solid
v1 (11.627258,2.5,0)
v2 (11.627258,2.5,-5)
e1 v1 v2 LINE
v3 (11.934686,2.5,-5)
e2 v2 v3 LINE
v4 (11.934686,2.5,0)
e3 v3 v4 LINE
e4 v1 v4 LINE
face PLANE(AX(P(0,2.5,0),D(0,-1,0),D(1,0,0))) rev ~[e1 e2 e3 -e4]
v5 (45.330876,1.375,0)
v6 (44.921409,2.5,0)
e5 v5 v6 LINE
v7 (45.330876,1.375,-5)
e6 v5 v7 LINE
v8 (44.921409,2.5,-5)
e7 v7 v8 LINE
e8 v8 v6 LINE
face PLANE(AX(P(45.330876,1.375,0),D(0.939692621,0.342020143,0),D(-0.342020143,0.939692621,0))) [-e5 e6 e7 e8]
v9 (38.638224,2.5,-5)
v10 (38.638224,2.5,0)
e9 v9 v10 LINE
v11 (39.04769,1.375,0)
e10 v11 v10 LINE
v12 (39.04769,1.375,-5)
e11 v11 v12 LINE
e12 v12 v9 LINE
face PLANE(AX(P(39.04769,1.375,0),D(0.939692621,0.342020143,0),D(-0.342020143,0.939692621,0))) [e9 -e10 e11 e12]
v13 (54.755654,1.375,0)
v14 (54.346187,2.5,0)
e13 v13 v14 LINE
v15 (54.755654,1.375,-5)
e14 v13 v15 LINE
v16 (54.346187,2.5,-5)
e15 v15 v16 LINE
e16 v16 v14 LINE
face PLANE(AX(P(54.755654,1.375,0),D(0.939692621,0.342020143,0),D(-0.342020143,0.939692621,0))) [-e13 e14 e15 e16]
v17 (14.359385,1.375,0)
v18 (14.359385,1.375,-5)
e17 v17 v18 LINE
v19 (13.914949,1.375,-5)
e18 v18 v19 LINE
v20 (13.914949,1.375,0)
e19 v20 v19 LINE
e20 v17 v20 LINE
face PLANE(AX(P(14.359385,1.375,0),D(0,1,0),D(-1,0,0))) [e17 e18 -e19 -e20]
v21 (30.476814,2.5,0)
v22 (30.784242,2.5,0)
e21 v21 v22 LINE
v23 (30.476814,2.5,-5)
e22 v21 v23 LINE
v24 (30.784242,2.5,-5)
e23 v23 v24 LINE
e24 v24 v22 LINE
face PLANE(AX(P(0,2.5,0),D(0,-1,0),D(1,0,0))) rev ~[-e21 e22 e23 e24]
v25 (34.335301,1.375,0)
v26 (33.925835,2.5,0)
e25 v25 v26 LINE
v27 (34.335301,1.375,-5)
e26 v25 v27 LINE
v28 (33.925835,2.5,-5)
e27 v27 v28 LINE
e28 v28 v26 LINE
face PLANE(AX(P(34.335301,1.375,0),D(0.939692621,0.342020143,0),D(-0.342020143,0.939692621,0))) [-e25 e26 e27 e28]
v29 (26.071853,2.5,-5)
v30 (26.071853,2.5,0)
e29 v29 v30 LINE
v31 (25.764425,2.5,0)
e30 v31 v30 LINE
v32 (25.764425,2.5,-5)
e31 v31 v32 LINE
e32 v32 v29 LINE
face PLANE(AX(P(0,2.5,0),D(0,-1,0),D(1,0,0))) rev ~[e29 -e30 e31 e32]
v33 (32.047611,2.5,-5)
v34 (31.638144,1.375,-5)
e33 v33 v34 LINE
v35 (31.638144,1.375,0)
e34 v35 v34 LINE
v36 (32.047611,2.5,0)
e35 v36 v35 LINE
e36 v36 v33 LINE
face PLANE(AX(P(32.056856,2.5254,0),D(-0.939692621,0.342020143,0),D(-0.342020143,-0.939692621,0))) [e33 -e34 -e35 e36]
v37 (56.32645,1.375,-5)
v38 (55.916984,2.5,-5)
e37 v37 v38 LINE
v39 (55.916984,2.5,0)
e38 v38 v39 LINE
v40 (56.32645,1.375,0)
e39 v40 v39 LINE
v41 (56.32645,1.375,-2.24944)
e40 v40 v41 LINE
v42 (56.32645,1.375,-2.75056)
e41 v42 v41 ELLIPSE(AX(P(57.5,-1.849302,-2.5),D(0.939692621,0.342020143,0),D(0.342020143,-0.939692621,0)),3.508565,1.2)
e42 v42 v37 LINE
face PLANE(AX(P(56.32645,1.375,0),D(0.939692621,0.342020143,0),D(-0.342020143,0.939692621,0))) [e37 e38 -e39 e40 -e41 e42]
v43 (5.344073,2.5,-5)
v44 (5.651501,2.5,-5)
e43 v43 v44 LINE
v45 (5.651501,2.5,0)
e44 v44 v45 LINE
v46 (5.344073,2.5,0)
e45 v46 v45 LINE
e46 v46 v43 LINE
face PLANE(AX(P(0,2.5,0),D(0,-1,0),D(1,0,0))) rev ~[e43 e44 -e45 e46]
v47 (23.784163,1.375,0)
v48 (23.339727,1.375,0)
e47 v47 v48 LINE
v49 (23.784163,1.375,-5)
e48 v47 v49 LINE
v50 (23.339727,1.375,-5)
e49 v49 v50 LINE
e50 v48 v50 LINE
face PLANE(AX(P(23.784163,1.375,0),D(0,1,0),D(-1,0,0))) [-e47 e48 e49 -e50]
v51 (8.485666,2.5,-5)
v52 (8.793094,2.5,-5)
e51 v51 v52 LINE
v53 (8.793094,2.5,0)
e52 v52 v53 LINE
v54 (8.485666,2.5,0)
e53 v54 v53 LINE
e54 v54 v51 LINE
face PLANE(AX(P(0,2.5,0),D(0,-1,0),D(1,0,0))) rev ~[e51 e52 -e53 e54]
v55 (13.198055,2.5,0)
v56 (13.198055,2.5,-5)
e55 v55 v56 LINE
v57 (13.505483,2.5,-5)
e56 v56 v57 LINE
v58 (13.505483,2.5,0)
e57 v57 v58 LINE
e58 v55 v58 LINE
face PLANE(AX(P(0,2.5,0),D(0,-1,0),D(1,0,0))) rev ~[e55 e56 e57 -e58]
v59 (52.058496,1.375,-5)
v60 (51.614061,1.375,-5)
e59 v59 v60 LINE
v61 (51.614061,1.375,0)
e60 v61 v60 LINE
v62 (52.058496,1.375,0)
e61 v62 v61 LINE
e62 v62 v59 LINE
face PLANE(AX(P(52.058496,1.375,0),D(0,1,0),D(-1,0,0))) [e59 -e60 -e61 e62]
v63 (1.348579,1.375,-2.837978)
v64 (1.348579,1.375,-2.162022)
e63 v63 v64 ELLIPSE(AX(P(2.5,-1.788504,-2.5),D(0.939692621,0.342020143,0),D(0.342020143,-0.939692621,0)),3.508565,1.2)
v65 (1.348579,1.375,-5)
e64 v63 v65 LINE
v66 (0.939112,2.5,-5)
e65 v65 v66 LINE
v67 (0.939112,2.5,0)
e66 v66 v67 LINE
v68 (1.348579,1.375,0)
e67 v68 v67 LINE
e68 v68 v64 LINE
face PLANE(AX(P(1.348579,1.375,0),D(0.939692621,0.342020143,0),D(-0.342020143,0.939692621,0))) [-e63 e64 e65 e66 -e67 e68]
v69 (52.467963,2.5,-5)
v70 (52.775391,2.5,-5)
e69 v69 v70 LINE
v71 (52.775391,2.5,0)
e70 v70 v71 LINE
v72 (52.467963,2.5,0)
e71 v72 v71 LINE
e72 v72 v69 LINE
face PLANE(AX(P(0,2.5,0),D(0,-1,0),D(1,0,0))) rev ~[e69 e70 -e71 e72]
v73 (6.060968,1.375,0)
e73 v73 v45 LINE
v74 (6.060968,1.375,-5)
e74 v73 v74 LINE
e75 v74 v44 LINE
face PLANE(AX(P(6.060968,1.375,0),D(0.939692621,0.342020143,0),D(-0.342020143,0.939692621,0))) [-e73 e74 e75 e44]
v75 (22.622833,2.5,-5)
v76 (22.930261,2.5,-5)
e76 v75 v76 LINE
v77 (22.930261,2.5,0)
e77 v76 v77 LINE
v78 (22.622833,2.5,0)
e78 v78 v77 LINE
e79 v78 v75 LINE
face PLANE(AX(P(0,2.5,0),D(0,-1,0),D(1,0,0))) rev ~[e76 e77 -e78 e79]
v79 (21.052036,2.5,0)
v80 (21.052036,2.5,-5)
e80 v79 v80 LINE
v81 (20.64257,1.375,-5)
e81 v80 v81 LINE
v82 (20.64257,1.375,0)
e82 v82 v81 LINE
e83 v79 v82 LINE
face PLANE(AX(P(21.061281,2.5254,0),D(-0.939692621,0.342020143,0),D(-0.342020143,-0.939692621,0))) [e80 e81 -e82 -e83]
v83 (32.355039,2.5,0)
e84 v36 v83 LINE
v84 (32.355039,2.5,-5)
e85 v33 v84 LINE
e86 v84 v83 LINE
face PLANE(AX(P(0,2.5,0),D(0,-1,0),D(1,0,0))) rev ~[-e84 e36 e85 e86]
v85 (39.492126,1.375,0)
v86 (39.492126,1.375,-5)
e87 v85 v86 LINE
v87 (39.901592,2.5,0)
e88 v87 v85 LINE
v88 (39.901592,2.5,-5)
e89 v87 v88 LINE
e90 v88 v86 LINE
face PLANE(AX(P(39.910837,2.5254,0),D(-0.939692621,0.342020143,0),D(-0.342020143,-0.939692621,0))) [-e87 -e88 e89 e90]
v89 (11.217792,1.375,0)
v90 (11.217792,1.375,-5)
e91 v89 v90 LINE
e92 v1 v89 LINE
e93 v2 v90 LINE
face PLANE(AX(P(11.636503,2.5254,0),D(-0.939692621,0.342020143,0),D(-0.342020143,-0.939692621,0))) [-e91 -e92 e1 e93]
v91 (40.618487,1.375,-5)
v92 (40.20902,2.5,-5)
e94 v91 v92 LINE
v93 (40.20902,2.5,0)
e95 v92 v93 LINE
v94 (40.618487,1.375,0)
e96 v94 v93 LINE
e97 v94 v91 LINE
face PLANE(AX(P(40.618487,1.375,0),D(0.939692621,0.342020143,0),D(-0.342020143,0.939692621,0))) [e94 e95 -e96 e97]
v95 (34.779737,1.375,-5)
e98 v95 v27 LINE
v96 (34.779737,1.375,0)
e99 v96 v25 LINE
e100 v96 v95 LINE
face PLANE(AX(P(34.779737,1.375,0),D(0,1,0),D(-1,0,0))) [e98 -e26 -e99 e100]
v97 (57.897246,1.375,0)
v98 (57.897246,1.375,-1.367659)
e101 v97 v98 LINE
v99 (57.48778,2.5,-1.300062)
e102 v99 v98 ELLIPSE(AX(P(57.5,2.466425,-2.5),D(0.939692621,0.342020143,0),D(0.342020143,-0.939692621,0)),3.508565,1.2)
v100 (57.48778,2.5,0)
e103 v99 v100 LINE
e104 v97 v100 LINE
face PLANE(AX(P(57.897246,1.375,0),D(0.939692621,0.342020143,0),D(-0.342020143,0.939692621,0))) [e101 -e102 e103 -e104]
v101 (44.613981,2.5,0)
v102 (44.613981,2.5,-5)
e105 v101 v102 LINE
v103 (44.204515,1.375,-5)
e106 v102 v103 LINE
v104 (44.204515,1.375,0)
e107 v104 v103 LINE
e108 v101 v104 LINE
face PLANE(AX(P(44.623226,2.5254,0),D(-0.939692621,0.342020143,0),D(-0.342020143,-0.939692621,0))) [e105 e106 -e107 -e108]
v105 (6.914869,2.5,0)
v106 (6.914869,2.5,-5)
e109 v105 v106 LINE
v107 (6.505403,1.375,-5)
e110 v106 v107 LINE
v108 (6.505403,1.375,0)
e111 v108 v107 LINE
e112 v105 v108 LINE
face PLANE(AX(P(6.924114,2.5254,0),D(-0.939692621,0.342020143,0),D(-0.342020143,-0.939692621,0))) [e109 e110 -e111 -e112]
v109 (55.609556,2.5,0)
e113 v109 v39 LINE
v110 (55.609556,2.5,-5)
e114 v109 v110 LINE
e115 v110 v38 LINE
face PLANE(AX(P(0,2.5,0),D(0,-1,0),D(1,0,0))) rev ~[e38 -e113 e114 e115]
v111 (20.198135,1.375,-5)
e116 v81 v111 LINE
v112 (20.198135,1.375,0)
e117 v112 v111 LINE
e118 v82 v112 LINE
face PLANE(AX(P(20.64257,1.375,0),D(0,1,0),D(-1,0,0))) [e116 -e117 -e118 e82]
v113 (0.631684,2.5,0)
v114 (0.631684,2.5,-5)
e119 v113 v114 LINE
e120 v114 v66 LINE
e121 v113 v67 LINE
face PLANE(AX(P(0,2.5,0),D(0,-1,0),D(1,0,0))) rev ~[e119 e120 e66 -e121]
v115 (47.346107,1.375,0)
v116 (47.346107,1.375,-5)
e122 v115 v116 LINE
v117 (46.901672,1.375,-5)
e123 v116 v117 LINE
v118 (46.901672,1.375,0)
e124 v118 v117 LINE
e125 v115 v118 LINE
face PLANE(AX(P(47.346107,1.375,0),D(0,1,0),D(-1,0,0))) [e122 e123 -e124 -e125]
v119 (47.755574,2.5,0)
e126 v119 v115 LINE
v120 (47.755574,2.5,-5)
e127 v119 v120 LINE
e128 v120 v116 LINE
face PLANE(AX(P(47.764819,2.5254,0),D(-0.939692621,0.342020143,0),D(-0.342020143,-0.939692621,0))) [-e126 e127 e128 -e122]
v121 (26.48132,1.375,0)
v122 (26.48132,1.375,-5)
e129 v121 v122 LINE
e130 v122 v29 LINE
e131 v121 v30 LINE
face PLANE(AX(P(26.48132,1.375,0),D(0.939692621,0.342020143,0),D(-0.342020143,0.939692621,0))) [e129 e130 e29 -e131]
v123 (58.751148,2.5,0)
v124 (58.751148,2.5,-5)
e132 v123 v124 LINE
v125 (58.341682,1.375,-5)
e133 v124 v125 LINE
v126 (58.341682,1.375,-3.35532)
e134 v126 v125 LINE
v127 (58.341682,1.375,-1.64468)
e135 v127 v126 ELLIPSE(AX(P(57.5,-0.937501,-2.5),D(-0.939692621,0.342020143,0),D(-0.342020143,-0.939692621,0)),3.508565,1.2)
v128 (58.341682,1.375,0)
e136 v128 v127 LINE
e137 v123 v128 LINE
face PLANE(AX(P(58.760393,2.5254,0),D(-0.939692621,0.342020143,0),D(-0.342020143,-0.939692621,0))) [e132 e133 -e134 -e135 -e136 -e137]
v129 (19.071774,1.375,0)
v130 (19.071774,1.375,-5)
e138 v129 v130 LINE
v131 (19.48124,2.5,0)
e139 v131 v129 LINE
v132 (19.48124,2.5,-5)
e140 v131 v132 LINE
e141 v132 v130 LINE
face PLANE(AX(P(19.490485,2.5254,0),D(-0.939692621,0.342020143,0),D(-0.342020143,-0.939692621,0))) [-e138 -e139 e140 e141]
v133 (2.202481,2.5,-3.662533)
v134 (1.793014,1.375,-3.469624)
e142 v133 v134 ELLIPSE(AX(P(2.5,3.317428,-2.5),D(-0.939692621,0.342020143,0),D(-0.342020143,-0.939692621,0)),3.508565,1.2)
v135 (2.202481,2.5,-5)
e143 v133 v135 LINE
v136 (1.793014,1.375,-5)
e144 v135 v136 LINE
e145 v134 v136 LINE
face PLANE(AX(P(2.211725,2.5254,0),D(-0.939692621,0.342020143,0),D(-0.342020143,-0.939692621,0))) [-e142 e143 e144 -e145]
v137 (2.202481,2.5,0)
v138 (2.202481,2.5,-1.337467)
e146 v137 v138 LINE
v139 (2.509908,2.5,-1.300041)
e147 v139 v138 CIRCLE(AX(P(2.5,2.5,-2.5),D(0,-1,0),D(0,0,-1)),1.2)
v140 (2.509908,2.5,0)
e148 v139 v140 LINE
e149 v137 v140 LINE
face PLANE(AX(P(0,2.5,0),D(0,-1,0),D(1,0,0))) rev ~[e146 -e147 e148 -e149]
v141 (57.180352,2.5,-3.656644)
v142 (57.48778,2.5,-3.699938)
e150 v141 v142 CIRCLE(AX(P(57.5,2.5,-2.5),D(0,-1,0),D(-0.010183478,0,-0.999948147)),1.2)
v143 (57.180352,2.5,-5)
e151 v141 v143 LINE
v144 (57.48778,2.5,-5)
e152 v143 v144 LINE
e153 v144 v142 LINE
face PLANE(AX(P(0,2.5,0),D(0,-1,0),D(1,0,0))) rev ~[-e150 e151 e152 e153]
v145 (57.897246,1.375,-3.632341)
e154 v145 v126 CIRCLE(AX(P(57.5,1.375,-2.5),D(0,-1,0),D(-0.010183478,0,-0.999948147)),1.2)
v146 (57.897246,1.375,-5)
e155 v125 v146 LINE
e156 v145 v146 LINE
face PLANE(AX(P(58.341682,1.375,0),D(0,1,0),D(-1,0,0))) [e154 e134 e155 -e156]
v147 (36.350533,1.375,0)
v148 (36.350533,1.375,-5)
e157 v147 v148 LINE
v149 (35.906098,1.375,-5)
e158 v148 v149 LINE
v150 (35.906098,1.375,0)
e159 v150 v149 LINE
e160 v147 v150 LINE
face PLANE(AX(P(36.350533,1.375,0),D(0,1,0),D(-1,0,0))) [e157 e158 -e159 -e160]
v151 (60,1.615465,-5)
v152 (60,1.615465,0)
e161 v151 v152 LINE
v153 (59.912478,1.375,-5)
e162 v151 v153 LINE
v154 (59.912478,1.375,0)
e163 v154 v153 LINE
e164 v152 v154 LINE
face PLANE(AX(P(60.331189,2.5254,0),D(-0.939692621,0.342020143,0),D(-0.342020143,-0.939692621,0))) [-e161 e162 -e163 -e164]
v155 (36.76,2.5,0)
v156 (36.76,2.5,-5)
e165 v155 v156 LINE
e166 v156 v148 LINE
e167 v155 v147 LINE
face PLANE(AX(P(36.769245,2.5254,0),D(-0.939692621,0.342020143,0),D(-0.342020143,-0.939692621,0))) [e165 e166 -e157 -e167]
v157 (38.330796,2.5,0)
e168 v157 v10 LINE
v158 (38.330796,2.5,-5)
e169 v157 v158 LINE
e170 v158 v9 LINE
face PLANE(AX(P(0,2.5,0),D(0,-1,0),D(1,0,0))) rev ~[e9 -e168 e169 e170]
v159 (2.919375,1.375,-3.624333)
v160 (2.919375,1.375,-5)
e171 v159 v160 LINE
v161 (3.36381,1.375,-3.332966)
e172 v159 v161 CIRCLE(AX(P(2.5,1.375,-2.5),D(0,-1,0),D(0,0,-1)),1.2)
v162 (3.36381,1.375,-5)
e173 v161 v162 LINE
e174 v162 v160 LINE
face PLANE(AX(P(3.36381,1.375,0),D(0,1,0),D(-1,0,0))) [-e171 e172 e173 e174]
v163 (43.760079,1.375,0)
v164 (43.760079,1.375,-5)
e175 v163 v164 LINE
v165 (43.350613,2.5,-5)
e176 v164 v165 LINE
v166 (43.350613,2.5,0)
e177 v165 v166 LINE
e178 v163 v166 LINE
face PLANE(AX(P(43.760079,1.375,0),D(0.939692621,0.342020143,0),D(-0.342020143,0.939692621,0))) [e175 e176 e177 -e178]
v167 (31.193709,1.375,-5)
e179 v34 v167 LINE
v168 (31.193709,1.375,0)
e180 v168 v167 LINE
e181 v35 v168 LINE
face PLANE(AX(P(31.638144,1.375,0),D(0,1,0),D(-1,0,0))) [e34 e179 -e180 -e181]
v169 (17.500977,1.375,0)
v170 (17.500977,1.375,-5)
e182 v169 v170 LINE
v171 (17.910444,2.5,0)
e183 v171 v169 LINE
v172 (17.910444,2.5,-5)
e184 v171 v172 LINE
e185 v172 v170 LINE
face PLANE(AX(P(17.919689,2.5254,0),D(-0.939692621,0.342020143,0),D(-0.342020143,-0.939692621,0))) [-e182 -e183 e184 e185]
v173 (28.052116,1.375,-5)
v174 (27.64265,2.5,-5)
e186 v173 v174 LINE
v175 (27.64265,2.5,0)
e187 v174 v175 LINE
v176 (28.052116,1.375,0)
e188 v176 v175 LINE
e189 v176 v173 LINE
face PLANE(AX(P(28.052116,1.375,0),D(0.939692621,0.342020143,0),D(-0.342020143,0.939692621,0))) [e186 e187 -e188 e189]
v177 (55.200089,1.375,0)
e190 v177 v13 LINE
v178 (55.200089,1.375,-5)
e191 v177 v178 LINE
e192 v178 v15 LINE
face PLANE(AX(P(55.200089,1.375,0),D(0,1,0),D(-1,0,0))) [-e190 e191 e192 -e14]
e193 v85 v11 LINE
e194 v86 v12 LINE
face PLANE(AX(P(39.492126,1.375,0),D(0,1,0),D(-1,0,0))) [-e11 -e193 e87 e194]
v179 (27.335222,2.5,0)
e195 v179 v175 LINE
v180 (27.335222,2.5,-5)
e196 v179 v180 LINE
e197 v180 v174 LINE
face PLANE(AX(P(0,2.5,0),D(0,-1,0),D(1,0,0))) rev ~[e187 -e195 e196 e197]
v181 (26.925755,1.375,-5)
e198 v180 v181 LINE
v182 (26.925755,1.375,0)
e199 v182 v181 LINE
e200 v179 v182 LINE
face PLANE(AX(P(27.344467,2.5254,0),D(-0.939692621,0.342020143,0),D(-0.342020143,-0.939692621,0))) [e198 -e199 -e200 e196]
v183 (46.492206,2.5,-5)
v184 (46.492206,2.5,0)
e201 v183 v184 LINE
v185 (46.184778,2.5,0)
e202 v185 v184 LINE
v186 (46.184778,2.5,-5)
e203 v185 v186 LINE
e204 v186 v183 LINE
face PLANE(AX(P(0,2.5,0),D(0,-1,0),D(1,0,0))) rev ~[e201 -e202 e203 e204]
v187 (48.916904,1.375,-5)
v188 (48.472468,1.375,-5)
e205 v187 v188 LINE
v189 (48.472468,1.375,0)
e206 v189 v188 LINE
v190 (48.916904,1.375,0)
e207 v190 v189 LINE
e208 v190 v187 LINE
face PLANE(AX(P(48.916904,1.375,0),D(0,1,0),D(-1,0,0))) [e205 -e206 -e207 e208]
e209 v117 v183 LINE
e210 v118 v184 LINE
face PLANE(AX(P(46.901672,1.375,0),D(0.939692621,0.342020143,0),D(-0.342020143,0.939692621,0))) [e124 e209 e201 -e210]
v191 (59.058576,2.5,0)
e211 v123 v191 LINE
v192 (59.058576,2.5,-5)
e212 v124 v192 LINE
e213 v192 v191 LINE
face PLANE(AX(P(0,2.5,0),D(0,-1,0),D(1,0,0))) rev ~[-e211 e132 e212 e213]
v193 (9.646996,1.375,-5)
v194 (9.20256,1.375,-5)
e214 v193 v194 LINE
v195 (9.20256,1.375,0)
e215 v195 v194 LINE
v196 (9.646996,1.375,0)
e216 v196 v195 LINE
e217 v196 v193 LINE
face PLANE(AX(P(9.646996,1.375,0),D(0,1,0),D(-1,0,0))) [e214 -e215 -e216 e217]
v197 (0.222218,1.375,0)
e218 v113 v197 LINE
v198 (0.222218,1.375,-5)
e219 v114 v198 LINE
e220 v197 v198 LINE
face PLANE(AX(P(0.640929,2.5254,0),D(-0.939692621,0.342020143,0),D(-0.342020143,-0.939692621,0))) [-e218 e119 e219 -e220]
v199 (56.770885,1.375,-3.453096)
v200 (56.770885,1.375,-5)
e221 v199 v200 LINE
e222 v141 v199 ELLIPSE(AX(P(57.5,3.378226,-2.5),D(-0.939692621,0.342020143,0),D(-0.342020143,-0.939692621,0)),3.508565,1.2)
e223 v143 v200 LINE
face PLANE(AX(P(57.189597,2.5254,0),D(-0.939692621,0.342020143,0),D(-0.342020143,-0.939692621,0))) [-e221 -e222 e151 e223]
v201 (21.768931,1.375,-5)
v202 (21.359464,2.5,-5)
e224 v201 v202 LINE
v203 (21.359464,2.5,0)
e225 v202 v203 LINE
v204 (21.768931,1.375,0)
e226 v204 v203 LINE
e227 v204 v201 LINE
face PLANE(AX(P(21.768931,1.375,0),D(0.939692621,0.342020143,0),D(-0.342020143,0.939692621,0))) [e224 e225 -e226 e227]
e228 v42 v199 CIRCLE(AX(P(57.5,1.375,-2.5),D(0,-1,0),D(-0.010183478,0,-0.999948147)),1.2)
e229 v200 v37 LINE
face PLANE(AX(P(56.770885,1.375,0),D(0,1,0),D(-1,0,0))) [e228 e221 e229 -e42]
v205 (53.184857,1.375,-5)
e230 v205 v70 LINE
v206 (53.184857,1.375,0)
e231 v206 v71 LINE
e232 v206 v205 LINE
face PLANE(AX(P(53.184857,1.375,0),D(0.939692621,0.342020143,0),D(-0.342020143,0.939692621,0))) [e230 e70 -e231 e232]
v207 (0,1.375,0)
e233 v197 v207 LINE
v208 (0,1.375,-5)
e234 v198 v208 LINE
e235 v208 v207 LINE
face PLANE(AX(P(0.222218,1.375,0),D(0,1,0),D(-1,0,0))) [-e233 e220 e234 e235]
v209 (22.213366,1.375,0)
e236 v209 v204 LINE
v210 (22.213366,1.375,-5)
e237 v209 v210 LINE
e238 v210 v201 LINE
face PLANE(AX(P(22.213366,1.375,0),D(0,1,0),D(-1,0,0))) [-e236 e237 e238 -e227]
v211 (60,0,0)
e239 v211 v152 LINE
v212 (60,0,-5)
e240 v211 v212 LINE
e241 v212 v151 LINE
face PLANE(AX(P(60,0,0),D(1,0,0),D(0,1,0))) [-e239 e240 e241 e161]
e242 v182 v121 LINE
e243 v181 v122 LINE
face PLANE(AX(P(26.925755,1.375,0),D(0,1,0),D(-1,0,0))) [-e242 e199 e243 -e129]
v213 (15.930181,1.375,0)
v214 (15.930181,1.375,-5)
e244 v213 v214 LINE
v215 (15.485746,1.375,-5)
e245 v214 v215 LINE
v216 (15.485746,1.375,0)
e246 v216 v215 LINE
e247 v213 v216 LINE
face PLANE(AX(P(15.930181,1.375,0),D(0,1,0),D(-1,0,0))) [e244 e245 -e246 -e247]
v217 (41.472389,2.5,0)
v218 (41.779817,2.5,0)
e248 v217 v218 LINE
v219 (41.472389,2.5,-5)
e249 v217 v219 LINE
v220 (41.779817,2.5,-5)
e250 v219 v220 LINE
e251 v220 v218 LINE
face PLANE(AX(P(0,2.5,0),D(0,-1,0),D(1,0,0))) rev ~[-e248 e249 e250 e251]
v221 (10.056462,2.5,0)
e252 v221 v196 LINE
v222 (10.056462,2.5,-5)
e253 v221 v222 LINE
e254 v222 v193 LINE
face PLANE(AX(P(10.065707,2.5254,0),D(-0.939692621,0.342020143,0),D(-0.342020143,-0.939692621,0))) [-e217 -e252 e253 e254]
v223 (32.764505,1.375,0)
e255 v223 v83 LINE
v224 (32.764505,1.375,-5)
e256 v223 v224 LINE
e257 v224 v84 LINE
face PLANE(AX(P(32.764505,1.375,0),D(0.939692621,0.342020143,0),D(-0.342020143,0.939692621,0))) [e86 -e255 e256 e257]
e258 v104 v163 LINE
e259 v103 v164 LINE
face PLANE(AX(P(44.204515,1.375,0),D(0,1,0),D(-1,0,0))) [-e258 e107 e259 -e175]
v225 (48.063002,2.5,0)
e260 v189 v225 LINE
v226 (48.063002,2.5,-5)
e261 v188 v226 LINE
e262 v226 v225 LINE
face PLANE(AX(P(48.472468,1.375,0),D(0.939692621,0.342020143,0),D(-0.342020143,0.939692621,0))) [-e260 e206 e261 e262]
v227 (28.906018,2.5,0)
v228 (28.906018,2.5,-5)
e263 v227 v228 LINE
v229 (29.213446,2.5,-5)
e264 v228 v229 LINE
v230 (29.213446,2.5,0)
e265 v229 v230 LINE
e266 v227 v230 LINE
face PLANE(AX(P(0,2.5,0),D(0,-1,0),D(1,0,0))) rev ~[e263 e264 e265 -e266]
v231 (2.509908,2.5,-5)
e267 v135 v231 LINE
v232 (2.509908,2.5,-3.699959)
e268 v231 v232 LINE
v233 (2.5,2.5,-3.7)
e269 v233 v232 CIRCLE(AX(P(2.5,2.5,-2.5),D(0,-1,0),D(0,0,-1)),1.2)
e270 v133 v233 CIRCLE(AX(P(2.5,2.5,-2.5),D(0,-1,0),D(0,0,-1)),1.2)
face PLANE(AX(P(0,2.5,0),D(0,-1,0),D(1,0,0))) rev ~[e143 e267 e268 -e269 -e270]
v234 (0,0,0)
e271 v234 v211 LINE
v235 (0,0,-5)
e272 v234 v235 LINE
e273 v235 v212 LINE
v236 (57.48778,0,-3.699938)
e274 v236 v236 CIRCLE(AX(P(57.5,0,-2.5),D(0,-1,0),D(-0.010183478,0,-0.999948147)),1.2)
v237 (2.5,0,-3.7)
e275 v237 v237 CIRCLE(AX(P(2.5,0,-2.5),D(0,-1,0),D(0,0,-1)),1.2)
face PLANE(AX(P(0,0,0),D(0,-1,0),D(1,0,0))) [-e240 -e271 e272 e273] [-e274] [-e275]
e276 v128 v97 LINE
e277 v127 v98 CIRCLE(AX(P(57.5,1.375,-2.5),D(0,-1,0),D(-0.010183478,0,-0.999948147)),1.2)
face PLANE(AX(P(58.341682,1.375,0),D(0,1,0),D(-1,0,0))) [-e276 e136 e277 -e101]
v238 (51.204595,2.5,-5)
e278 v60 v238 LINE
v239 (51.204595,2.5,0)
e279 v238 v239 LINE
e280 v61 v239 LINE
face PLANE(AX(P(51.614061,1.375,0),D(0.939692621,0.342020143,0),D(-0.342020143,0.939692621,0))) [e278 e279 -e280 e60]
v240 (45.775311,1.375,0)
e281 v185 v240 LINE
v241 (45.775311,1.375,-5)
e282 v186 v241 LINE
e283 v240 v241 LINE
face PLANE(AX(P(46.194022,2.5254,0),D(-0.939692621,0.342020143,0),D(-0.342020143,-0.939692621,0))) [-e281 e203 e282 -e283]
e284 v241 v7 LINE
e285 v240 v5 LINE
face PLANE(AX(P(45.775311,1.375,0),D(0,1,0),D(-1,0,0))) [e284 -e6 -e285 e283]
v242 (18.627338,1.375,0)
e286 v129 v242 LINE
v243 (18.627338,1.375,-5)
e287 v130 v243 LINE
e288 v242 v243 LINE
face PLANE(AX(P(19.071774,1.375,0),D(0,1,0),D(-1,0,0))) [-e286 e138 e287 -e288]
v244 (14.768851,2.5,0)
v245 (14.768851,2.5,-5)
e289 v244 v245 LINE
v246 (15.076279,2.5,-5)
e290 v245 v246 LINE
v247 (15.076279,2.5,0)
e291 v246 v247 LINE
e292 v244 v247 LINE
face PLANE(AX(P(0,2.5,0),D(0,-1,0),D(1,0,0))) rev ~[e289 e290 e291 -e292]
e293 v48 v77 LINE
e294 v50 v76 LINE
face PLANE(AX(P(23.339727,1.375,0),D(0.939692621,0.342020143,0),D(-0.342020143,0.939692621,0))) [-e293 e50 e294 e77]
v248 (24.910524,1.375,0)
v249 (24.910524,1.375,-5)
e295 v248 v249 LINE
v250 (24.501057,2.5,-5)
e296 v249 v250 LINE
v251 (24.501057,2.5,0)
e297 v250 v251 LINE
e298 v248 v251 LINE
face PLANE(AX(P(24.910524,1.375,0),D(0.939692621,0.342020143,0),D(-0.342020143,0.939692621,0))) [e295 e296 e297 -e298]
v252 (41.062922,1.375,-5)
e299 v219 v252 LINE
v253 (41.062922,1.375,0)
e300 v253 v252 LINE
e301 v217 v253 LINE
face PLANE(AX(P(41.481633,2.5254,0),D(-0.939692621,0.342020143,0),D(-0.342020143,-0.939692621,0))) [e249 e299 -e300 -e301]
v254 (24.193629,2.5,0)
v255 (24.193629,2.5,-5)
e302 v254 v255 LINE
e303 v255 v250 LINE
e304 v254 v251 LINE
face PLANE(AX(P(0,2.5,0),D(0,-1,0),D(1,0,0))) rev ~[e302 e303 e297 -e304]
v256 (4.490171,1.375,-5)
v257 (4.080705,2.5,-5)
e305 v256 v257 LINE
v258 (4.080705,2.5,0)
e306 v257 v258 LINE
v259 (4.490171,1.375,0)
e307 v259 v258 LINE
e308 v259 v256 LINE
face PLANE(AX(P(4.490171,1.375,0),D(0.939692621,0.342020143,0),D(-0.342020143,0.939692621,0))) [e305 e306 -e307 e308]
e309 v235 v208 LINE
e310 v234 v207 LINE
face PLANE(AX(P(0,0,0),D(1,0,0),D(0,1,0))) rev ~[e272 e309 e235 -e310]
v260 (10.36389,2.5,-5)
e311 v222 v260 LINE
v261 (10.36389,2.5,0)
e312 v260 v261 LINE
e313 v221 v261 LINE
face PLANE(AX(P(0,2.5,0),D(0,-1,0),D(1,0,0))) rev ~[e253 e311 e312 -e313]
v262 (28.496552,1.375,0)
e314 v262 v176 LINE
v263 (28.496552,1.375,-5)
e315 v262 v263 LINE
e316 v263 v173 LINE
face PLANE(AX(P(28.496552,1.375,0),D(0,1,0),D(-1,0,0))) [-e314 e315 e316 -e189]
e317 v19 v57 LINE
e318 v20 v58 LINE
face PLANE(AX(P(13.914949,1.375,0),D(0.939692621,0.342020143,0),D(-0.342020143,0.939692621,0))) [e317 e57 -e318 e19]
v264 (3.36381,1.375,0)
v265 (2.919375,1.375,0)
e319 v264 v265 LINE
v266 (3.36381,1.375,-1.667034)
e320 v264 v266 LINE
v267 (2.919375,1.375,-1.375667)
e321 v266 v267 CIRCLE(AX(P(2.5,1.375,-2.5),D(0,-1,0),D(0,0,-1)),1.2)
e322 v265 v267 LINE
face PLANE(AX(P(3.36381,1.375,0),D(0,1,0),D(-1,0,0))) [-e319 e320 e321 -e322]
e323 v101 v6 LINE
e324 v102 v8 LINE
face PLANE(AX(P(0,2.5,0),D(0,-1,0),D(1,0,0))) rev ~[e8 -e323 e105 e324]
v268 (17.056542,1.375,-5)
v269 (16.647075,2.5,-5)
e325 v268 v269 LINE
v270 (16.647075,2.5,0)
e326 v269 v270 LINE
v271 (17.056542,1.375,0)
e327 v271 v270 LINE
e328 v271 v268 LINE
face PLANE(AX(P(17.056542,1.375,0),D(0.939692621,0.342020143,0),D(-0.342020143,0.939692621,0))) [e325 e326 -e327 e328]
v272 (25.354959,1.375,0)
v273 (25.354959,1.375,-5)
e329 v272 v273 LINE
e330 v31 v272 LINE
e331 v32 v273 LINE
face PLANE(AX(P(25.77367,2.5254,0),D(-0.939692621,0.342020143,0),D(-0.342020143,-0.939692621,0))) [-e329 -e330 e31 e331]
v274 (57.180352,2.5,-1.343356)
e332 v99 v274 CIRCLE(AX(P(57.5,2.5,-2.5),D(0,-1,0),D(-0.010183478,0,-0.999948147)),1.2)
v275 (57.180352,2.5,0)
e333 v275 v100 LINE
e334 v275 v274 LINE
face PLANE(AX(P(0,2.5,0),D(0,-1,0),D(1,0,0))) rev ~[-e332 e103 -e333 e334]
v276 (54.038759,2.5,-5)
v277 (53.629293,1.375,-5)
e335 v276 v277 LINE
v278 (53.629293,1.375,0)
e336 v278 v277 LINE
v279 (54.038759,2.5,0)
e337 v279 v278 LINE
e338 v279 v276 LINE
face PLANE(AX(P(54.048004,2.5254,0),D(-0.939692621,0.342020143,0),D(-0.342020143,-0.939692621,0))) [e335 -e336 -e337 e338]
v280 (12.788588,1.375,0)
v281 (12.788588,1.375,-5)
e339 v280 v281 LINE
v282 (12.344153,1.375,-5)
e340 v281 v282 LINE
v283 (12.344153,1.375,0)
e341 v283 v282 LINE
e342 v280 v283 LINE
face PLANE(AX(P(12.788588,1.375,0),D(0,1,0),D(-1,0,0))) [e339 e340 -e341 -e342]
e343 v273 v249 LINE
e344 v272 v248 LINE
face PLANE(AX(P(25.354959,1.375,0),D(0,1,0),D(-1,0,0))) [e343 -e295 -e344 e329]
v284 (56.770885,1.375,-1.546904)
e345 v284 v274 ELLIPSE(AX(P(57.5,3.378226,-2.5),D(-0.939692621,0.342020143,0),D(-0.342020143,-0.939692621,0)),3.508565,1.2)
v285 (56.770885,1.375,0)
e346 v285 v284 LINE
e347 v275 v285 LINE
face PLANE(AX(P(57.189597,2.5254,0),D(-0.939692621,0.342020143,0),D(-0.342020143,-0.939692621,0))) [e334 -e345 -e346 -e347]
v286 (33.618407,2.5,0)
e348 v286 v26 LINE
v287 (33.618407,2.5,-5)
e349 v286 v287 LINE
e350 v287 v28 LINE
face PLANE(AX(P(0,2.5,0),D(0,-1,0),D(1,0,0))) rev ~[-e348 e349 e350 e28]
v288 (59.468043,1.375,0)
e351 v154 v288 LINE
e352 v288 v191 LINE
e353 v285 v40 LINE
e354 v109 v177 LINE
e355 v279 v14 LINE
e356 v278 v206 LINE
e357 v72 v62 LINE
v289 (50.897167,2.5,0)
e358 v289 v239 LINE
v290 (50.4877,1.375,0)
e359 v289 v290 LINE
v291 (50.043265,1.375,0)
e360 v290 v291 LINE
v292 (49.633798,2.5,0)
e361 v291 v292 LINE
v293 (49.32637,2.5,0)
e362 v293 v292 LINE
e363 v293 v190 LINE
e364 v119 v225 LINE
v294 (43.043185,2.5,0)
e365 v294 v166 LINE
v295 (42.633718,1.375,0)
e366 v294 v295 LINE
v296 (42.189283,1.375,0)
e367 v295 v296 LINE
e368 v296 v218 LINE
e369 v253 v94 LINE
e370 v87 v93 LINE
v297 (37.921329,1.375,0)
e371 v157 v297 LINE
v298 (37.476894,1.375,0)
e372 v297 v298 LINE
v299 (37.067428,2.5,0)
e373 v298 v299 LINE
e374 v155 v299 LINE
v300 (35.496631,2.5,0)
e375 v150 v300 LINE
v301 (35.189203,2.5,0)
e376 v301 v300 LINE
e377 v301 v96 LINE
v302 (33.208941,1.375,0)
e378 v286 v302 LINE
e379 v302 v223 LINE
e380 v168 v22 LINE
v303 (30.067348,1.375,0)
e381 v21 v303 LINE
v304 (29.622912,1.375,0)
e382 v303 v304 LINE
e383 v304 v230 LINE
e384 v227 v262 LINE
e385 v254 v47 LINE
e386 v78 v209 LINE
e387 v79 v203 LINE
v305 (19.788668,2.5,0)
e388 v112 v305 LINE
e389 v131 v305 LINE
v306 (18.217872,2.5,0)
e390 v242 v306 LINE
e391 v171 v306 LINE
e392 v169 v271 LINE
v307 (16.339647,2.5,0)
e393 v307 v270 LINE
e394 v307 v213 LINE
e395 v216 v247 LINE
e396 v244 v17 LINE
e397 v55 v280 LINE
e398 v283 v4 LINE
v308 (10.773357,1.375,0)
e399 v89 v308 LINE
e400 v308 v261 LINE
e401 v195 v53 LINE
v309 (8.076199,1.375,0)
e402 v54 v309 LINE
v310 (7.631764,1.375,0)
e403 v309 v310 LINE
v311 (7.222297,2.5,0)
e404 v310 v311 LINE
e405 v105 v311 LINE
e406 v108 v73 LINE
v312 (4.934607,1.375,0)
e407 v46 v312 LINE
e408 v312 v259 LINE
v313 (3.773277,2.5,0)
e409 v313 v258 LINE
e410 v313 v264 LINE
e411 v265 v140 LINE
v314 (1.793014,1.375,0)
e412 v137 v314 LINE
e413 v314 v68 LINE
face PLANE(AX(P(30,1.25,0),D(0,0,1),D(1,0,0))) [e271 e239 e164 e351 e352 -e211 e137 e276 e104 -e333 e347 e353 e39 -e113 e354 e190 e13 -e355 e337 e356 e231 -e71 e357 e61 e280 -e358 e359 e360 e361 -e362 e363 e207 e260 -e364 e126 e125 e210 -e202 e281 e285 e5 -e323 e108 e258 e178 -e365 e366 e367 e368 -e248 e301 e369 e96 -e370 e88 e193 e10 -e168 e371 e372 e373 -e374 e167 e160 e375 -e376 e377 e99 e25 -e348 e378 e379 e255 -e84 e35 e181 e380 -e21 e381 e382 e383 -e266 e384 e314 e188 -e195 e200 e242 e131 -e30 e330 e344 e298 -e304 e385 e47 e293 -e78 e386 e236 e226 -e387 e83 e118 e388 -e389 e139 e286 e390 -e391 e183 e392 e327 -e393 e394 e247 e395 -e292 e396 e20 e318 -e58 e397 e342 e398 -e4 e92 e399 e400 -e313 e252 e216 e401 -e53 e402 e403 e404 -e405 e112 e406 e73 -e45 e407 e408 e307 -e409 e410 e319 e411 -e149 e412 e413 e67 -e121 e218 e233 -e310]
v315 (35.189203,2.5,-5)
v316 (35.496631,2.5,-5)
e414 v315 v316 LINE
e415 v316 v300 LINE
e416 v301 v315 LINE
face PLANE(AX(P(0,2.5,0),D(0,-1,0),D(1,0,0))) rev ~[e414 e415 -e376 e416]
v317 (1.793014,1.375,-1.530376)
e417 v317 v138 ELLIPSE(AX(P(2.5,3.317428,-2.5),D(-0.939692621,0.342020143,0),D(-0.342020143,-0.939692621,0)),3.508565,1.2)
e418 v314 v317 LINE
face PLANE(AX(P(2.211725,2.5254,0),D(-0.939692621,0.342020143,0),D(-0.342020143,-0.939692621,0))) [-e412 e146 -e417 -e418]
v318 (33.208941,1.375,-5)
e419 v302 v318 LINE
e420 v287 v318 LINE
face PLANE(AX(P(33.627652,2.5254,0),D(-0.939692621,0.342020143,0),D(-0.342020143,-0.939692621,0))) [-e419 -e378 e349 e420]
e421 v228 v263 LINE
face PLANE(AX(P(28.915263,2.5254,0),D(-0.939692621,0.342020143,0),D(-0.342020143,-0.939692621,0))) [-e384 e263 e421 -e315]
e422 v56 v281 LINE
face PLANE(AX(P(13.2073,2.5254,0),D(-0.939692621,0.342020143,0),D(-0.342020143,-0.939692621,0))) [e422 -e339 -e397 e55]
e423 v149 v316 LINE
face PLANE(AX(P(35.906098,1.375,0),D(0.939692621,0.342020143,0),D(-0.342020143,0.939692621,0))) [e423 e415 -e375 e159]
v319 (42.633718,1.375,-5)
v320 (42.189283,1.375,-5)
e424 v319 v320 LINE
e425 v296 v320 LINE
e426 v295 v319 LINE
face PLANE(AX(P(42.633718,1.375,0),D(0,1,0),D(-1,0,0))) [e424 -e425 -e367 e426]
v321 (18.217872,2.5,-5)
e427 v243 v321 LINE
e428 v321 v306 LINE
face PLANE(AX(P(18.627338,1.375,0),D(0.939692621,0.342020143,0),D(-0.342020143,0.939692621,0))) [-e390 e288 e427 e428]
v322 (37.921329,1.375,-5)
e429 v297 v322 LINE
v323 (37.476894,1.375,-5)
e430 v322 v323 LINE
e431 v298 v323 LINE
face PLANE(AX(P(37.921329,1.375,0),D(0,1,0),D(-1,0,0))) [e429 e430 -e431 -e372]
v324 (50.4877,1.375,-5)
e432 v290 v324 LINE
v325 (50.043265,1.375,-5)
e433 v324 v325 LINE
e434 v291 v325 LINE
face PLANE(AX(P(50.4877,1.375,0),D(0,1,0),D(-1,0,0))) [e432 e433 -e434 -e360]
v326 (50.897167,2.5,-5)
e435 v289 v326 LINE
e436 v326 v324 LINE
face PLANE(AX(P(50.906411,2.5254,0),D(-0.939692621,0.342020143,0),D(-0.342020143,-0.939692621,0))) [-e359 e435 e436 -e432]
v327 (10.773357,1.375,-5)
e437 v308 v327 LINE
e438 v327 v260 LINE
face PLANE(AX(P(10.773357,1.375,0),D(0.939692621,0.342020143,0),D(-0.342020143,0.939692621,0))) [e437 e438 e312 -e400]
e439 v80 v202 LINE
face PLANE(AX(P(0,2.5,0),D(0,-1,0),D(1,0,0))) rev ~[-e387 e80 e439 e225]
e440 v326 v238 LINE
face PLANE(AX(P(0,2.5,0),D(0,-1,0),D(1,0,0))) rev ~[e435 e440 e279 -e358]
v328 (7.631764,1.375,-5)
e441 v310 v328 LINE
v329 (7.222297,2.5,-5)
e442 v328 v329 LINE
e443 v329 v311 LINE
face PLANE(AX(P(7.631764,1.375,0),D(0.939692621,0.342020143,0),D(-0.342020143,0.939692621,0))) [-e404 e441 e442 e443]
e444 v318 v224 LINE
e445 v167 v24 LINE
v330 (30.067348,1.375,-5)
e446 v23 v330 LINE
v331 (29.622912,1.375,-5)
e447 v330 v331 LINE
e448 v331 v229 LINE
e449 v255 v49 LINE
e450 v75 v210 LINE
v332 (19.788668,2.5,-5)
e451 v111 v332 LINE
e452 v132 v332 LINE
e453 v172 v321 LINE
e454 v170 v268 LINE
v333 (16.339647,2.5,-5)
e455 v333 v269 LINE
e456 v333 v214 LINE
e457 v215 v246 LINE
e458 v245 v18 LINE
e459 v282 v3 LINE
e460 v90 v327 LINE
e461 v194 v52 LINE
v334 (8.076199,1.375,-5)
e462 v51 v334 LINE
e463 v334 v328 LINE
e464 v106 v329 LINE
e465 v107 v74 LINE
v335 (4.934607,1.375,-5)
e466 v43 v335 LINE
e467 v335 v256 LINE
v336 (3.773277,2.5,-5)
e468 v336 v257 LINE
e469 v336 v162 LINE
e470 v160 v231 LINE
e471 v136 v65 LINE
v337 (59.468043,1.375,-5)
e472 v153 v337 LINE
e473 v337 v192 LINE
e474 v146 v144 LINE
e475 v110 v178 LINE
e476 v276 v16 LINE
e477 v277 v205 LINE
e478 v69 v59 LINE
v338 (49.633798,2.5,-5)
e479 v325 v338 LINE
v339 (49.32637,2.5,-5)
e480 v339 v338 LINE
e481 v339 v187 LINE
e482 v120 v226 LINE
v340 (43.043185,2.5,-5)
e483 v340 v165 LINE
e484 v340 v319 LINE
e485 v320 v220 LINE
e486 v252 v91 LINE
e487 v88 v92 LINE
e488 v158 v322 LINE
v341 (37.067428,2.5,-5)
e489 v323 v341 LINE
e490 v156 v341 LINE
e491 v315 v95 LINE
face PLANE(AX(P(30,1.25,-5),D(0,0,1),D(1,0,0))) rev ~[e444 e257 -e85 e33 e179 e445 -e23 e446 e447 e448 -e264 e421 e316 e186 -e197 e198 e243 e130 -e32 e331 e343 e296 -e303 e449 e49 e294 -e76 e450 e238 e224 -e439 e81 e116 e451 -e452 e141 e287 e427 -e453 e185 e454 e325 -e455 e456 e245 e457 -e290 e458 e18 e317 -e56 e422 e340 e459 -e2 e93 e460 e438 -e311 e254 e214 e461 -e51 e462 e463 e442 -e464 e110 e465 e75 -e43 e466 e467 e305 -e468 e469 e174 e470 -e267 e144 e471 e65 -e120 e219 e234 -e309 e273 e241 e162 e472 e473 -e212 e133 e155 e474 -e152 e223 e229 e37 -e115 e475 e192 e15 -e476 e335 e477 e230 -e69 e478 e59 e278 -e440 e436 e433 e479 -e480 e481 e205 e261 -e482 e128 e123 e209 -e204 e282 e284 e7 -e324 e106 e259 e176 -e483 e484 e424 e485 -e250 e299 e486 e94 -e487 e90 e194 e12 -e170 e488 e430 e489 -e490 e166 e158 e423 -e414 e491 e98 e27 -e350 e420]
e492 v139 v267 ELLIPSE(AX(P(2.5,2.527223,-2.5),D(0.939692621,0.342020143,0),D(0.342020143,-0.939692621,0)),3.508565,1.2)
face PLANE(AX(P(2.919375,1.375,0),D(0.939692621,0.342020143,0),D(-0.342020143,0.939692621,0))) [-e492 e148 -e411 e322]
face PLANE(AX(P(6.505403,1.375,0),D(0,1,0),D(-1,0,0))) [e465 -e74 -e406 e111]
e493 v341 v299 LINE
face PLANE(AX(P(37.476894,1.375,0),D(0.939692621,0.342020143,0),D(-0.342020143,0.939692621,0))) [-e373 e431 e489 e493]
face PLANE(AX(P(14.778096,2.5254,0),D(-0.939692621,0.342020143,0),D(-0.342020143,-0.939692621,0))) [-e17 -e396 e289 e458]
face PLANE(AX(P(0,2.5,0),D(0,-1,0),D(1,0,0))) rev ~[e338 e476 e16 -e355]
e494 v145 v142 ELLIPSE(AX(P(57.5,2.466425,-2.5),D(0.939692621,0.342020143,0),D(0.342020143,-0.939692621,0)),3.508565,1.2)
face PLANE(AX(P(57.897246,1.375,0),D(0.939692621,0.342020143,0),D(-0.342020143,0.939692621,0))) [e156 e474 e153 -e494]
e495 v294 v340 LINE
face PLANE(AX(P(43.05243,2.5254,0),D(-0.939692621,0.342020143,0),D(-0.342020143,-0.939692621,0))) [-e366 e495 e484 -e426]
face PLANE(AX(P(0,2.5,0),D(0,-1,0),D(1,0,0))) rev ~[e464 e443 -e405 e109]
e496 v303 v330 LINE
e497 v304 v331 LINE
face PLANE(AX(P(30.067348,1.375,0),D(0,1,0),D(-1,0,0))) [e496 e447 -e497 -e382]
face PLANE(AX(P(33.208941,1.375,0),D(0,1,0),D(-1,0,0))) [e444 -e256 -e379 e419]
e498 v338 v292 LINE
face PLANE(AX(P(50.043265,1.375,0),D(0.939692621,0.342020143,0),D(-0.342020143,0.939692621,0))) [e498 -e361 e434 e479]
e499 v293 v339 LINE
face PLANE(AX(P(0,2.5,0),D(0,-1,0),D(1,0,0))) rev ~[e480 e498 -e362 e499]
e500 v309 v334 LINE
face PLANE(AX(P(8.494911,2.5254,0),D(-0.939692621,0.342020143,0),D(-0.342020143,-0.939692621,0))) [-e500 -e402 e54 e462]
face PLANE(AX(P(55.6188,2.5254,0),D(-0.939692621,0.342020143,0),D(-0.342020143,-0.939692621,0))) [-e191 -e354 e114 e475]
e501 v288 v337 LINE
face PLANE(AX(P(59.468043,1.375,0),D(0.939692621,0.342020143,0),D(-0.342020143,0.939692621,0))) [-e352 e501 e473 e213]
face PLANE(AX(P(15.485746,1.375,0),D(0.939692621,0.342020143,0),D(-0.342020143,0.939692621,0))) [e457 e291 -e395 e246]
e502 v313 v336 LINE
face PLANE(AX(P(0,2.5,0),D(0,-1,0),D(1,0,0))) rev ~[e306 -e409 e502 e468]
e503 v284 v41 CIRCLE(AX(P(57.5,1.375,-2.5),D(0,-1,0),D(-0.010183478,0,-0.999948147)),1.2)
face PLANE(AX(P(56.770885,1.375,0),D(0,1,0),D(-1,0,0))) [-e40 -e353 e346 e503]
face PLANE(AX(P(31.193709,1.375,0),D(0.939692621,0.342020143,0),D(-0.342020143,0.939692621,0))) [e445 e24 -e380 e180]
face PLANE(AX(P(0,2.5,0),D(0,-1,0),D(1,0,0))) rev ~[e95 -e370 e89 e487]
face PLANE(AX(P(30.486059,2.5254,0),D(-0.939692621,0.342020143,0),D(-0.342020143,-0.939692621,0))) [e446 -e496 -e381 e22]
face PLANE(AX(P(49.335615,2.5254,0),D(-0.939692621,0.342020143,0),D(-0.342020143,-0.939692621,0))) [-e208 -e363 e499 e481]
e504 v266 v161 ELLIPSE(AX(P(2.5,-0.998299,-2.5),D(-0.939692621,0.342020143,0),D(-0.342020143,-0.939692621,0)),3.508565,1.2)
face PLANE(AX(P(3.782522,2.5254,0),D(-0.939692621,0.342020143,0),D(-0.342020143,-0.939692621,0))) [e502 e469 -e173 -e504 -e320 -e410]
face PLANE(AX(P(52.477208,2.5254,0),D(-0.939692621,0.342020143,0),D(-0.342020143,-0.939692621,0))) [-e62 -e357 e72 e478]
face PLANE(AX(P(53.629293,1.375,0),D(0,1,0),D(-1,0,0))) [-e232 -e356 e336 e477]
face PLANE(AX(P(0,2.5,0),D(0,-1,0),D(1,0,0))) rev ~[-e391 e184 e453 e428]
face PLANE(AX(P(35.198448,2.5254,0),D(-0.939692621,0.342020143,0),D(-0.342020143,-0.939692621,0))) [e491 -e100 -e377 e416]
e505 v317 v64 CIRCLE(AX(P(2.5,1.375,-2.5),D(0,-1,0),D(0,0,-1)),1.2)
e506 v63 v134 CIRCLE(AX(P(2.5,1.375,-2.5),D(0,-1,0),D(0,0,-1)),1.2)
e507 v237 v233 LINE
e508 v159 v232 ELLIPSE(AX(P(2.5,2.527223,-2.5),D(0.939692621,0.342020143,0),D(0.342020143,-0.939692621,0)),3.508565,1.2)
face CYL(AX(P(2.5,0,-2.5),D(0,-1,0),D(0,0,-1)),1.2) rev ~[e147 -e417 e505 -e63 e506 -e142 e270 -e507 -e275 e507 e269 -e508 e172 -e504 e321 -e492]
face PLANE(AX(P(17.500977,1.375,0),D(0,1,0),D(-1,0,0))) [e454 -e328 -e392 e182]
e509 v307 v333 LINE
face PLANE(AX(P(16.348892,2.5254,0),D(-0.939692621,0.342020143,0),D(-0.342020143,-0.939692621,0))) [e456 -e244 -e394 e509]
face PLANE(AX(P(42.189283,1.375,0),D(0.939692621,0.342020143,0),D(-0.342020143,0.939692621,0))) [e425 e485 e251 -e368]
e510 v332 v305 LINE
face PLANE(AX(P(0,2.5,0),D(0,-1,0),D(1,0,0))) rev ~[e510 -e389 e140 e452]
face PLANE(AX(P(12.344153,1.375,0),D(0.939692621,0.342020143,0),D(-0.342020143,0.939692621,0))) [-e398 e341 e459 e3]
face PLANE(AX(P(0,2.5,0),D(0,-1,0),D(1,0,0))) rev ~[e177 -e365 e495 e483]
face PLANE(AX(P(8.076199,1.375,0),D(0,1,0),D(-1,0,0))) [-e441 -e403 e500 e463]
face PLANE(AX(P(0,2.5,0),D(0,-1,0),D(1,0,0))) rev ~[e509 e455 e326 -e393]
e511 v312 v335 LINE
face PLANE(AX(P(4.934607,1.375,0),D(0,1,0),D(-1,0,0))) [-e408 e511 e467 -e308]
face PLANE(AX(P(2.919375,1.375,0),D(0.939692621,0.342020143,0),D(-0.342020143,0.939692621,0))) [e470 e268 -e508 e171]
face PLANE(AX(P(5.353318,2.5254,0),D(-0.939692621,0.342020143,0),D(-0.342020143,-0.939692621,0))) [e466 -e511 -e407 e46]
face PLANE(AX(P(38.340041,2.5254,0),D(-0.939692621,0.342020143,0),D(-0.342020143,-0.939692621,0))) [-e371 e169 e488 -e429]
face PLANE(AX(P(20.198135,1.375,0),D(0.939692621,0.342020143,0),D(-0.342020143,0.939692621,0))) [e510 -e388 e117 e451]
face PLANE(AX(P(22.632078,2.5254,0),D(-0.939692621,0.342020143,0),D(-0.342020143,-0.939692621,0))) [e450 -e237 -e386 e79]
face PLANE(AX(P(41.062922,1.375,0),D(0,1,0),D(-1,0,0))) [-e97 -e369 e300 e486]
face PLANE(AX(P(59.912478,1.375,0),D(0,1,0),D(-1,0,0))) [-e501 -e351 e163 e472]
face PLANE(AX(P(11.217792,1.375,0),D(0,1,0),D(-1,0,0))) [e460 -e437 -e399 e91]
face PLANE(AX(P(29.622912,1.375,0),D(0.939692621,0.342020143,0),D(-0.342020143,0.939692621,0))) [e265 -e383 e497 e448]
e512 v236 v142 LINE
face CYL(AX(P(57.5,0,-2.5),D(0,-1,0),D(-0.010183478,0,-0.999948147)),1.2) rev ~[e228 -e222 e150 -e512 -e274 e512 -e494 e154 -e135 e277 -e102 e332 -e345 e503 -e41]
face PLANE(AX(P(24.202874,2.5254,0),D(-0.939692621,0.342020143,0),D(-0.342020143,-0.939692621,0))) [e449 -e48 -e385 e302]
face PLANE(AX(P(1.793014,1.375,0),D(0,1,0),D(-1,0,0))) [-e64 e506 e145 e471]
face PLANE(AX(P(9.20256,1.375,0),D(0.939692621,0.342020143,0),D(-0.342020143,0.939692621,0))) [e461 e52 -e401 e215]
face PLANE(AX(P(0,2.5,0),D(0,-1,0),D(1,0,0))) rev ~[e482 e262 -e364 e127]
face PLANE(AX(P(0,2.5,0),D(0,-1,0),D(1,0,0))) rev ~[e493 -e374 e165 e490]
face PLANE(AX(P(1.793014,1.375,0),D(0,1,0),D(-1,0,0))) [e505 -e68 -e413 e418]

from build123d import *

# Parameters (mm, degrees)
BLANKSKE_W         = 60
BLANKSKE_H         = 2.5
BLANK_DEPTH        = 5
TOOTHCUTSIM_DEPTH  = 61.259853966
TEETHCUTS_COUNT    = 39
TEETHCUTS_PITCH    = 1.570796325
SKETCH1_R          = 1.2
CUT_EXTRUDE1_DEPTH = 10


with BuildPart() as part:
    # BlankSke → Blank (new body)
    with BuildSketch(Plane.XY):
        with Locations((30, 1.25)):
            Rectangle(BLANKSKE_W, BLANKSKE_H)
    extrude(amount=-BLANK_DEPTH)

    # TooCutSkeSim → ToothCutSim (cut, through all)
    with BuildSketch(Plane.XY):
        Polygon((0.222217685, 1.375), (-0.222217685, 1.375), (-0.640929042, 2.5254), (0.640929042, 2.5254), align=None)
    toothcutsim = extrude(amount=-TOOTHCUTSIM_DEPTH, mode=Mode.SUBTRACT)

    # TeethCuts: ToothCutSim ×39
    with Locations(*[(i * TEETHCUTS_PITCH, 0, 0) for i in range(1, TEETHCUTS_COUNT)]):
        add(toothcutsim, mode=Mode.SUBTRACT)

    # Sketch1 → Cut-Extrude1 (cut)
    with BuildSketch(Plane.XZ):
        with Locations(Location((2.5, -2.5, 0), (0, 0, 270))):
            Circle(SKETCH1_R)
        with Locations(Location((57.5, -2.5, 0), (0, 0, 269.416519615))):
            Circle(SKETCH1_R)
    extrude(amount=-CUT_EXTRUDE1_DEPTH, mode=Mode.SUBTRACT)


solid = part.part
